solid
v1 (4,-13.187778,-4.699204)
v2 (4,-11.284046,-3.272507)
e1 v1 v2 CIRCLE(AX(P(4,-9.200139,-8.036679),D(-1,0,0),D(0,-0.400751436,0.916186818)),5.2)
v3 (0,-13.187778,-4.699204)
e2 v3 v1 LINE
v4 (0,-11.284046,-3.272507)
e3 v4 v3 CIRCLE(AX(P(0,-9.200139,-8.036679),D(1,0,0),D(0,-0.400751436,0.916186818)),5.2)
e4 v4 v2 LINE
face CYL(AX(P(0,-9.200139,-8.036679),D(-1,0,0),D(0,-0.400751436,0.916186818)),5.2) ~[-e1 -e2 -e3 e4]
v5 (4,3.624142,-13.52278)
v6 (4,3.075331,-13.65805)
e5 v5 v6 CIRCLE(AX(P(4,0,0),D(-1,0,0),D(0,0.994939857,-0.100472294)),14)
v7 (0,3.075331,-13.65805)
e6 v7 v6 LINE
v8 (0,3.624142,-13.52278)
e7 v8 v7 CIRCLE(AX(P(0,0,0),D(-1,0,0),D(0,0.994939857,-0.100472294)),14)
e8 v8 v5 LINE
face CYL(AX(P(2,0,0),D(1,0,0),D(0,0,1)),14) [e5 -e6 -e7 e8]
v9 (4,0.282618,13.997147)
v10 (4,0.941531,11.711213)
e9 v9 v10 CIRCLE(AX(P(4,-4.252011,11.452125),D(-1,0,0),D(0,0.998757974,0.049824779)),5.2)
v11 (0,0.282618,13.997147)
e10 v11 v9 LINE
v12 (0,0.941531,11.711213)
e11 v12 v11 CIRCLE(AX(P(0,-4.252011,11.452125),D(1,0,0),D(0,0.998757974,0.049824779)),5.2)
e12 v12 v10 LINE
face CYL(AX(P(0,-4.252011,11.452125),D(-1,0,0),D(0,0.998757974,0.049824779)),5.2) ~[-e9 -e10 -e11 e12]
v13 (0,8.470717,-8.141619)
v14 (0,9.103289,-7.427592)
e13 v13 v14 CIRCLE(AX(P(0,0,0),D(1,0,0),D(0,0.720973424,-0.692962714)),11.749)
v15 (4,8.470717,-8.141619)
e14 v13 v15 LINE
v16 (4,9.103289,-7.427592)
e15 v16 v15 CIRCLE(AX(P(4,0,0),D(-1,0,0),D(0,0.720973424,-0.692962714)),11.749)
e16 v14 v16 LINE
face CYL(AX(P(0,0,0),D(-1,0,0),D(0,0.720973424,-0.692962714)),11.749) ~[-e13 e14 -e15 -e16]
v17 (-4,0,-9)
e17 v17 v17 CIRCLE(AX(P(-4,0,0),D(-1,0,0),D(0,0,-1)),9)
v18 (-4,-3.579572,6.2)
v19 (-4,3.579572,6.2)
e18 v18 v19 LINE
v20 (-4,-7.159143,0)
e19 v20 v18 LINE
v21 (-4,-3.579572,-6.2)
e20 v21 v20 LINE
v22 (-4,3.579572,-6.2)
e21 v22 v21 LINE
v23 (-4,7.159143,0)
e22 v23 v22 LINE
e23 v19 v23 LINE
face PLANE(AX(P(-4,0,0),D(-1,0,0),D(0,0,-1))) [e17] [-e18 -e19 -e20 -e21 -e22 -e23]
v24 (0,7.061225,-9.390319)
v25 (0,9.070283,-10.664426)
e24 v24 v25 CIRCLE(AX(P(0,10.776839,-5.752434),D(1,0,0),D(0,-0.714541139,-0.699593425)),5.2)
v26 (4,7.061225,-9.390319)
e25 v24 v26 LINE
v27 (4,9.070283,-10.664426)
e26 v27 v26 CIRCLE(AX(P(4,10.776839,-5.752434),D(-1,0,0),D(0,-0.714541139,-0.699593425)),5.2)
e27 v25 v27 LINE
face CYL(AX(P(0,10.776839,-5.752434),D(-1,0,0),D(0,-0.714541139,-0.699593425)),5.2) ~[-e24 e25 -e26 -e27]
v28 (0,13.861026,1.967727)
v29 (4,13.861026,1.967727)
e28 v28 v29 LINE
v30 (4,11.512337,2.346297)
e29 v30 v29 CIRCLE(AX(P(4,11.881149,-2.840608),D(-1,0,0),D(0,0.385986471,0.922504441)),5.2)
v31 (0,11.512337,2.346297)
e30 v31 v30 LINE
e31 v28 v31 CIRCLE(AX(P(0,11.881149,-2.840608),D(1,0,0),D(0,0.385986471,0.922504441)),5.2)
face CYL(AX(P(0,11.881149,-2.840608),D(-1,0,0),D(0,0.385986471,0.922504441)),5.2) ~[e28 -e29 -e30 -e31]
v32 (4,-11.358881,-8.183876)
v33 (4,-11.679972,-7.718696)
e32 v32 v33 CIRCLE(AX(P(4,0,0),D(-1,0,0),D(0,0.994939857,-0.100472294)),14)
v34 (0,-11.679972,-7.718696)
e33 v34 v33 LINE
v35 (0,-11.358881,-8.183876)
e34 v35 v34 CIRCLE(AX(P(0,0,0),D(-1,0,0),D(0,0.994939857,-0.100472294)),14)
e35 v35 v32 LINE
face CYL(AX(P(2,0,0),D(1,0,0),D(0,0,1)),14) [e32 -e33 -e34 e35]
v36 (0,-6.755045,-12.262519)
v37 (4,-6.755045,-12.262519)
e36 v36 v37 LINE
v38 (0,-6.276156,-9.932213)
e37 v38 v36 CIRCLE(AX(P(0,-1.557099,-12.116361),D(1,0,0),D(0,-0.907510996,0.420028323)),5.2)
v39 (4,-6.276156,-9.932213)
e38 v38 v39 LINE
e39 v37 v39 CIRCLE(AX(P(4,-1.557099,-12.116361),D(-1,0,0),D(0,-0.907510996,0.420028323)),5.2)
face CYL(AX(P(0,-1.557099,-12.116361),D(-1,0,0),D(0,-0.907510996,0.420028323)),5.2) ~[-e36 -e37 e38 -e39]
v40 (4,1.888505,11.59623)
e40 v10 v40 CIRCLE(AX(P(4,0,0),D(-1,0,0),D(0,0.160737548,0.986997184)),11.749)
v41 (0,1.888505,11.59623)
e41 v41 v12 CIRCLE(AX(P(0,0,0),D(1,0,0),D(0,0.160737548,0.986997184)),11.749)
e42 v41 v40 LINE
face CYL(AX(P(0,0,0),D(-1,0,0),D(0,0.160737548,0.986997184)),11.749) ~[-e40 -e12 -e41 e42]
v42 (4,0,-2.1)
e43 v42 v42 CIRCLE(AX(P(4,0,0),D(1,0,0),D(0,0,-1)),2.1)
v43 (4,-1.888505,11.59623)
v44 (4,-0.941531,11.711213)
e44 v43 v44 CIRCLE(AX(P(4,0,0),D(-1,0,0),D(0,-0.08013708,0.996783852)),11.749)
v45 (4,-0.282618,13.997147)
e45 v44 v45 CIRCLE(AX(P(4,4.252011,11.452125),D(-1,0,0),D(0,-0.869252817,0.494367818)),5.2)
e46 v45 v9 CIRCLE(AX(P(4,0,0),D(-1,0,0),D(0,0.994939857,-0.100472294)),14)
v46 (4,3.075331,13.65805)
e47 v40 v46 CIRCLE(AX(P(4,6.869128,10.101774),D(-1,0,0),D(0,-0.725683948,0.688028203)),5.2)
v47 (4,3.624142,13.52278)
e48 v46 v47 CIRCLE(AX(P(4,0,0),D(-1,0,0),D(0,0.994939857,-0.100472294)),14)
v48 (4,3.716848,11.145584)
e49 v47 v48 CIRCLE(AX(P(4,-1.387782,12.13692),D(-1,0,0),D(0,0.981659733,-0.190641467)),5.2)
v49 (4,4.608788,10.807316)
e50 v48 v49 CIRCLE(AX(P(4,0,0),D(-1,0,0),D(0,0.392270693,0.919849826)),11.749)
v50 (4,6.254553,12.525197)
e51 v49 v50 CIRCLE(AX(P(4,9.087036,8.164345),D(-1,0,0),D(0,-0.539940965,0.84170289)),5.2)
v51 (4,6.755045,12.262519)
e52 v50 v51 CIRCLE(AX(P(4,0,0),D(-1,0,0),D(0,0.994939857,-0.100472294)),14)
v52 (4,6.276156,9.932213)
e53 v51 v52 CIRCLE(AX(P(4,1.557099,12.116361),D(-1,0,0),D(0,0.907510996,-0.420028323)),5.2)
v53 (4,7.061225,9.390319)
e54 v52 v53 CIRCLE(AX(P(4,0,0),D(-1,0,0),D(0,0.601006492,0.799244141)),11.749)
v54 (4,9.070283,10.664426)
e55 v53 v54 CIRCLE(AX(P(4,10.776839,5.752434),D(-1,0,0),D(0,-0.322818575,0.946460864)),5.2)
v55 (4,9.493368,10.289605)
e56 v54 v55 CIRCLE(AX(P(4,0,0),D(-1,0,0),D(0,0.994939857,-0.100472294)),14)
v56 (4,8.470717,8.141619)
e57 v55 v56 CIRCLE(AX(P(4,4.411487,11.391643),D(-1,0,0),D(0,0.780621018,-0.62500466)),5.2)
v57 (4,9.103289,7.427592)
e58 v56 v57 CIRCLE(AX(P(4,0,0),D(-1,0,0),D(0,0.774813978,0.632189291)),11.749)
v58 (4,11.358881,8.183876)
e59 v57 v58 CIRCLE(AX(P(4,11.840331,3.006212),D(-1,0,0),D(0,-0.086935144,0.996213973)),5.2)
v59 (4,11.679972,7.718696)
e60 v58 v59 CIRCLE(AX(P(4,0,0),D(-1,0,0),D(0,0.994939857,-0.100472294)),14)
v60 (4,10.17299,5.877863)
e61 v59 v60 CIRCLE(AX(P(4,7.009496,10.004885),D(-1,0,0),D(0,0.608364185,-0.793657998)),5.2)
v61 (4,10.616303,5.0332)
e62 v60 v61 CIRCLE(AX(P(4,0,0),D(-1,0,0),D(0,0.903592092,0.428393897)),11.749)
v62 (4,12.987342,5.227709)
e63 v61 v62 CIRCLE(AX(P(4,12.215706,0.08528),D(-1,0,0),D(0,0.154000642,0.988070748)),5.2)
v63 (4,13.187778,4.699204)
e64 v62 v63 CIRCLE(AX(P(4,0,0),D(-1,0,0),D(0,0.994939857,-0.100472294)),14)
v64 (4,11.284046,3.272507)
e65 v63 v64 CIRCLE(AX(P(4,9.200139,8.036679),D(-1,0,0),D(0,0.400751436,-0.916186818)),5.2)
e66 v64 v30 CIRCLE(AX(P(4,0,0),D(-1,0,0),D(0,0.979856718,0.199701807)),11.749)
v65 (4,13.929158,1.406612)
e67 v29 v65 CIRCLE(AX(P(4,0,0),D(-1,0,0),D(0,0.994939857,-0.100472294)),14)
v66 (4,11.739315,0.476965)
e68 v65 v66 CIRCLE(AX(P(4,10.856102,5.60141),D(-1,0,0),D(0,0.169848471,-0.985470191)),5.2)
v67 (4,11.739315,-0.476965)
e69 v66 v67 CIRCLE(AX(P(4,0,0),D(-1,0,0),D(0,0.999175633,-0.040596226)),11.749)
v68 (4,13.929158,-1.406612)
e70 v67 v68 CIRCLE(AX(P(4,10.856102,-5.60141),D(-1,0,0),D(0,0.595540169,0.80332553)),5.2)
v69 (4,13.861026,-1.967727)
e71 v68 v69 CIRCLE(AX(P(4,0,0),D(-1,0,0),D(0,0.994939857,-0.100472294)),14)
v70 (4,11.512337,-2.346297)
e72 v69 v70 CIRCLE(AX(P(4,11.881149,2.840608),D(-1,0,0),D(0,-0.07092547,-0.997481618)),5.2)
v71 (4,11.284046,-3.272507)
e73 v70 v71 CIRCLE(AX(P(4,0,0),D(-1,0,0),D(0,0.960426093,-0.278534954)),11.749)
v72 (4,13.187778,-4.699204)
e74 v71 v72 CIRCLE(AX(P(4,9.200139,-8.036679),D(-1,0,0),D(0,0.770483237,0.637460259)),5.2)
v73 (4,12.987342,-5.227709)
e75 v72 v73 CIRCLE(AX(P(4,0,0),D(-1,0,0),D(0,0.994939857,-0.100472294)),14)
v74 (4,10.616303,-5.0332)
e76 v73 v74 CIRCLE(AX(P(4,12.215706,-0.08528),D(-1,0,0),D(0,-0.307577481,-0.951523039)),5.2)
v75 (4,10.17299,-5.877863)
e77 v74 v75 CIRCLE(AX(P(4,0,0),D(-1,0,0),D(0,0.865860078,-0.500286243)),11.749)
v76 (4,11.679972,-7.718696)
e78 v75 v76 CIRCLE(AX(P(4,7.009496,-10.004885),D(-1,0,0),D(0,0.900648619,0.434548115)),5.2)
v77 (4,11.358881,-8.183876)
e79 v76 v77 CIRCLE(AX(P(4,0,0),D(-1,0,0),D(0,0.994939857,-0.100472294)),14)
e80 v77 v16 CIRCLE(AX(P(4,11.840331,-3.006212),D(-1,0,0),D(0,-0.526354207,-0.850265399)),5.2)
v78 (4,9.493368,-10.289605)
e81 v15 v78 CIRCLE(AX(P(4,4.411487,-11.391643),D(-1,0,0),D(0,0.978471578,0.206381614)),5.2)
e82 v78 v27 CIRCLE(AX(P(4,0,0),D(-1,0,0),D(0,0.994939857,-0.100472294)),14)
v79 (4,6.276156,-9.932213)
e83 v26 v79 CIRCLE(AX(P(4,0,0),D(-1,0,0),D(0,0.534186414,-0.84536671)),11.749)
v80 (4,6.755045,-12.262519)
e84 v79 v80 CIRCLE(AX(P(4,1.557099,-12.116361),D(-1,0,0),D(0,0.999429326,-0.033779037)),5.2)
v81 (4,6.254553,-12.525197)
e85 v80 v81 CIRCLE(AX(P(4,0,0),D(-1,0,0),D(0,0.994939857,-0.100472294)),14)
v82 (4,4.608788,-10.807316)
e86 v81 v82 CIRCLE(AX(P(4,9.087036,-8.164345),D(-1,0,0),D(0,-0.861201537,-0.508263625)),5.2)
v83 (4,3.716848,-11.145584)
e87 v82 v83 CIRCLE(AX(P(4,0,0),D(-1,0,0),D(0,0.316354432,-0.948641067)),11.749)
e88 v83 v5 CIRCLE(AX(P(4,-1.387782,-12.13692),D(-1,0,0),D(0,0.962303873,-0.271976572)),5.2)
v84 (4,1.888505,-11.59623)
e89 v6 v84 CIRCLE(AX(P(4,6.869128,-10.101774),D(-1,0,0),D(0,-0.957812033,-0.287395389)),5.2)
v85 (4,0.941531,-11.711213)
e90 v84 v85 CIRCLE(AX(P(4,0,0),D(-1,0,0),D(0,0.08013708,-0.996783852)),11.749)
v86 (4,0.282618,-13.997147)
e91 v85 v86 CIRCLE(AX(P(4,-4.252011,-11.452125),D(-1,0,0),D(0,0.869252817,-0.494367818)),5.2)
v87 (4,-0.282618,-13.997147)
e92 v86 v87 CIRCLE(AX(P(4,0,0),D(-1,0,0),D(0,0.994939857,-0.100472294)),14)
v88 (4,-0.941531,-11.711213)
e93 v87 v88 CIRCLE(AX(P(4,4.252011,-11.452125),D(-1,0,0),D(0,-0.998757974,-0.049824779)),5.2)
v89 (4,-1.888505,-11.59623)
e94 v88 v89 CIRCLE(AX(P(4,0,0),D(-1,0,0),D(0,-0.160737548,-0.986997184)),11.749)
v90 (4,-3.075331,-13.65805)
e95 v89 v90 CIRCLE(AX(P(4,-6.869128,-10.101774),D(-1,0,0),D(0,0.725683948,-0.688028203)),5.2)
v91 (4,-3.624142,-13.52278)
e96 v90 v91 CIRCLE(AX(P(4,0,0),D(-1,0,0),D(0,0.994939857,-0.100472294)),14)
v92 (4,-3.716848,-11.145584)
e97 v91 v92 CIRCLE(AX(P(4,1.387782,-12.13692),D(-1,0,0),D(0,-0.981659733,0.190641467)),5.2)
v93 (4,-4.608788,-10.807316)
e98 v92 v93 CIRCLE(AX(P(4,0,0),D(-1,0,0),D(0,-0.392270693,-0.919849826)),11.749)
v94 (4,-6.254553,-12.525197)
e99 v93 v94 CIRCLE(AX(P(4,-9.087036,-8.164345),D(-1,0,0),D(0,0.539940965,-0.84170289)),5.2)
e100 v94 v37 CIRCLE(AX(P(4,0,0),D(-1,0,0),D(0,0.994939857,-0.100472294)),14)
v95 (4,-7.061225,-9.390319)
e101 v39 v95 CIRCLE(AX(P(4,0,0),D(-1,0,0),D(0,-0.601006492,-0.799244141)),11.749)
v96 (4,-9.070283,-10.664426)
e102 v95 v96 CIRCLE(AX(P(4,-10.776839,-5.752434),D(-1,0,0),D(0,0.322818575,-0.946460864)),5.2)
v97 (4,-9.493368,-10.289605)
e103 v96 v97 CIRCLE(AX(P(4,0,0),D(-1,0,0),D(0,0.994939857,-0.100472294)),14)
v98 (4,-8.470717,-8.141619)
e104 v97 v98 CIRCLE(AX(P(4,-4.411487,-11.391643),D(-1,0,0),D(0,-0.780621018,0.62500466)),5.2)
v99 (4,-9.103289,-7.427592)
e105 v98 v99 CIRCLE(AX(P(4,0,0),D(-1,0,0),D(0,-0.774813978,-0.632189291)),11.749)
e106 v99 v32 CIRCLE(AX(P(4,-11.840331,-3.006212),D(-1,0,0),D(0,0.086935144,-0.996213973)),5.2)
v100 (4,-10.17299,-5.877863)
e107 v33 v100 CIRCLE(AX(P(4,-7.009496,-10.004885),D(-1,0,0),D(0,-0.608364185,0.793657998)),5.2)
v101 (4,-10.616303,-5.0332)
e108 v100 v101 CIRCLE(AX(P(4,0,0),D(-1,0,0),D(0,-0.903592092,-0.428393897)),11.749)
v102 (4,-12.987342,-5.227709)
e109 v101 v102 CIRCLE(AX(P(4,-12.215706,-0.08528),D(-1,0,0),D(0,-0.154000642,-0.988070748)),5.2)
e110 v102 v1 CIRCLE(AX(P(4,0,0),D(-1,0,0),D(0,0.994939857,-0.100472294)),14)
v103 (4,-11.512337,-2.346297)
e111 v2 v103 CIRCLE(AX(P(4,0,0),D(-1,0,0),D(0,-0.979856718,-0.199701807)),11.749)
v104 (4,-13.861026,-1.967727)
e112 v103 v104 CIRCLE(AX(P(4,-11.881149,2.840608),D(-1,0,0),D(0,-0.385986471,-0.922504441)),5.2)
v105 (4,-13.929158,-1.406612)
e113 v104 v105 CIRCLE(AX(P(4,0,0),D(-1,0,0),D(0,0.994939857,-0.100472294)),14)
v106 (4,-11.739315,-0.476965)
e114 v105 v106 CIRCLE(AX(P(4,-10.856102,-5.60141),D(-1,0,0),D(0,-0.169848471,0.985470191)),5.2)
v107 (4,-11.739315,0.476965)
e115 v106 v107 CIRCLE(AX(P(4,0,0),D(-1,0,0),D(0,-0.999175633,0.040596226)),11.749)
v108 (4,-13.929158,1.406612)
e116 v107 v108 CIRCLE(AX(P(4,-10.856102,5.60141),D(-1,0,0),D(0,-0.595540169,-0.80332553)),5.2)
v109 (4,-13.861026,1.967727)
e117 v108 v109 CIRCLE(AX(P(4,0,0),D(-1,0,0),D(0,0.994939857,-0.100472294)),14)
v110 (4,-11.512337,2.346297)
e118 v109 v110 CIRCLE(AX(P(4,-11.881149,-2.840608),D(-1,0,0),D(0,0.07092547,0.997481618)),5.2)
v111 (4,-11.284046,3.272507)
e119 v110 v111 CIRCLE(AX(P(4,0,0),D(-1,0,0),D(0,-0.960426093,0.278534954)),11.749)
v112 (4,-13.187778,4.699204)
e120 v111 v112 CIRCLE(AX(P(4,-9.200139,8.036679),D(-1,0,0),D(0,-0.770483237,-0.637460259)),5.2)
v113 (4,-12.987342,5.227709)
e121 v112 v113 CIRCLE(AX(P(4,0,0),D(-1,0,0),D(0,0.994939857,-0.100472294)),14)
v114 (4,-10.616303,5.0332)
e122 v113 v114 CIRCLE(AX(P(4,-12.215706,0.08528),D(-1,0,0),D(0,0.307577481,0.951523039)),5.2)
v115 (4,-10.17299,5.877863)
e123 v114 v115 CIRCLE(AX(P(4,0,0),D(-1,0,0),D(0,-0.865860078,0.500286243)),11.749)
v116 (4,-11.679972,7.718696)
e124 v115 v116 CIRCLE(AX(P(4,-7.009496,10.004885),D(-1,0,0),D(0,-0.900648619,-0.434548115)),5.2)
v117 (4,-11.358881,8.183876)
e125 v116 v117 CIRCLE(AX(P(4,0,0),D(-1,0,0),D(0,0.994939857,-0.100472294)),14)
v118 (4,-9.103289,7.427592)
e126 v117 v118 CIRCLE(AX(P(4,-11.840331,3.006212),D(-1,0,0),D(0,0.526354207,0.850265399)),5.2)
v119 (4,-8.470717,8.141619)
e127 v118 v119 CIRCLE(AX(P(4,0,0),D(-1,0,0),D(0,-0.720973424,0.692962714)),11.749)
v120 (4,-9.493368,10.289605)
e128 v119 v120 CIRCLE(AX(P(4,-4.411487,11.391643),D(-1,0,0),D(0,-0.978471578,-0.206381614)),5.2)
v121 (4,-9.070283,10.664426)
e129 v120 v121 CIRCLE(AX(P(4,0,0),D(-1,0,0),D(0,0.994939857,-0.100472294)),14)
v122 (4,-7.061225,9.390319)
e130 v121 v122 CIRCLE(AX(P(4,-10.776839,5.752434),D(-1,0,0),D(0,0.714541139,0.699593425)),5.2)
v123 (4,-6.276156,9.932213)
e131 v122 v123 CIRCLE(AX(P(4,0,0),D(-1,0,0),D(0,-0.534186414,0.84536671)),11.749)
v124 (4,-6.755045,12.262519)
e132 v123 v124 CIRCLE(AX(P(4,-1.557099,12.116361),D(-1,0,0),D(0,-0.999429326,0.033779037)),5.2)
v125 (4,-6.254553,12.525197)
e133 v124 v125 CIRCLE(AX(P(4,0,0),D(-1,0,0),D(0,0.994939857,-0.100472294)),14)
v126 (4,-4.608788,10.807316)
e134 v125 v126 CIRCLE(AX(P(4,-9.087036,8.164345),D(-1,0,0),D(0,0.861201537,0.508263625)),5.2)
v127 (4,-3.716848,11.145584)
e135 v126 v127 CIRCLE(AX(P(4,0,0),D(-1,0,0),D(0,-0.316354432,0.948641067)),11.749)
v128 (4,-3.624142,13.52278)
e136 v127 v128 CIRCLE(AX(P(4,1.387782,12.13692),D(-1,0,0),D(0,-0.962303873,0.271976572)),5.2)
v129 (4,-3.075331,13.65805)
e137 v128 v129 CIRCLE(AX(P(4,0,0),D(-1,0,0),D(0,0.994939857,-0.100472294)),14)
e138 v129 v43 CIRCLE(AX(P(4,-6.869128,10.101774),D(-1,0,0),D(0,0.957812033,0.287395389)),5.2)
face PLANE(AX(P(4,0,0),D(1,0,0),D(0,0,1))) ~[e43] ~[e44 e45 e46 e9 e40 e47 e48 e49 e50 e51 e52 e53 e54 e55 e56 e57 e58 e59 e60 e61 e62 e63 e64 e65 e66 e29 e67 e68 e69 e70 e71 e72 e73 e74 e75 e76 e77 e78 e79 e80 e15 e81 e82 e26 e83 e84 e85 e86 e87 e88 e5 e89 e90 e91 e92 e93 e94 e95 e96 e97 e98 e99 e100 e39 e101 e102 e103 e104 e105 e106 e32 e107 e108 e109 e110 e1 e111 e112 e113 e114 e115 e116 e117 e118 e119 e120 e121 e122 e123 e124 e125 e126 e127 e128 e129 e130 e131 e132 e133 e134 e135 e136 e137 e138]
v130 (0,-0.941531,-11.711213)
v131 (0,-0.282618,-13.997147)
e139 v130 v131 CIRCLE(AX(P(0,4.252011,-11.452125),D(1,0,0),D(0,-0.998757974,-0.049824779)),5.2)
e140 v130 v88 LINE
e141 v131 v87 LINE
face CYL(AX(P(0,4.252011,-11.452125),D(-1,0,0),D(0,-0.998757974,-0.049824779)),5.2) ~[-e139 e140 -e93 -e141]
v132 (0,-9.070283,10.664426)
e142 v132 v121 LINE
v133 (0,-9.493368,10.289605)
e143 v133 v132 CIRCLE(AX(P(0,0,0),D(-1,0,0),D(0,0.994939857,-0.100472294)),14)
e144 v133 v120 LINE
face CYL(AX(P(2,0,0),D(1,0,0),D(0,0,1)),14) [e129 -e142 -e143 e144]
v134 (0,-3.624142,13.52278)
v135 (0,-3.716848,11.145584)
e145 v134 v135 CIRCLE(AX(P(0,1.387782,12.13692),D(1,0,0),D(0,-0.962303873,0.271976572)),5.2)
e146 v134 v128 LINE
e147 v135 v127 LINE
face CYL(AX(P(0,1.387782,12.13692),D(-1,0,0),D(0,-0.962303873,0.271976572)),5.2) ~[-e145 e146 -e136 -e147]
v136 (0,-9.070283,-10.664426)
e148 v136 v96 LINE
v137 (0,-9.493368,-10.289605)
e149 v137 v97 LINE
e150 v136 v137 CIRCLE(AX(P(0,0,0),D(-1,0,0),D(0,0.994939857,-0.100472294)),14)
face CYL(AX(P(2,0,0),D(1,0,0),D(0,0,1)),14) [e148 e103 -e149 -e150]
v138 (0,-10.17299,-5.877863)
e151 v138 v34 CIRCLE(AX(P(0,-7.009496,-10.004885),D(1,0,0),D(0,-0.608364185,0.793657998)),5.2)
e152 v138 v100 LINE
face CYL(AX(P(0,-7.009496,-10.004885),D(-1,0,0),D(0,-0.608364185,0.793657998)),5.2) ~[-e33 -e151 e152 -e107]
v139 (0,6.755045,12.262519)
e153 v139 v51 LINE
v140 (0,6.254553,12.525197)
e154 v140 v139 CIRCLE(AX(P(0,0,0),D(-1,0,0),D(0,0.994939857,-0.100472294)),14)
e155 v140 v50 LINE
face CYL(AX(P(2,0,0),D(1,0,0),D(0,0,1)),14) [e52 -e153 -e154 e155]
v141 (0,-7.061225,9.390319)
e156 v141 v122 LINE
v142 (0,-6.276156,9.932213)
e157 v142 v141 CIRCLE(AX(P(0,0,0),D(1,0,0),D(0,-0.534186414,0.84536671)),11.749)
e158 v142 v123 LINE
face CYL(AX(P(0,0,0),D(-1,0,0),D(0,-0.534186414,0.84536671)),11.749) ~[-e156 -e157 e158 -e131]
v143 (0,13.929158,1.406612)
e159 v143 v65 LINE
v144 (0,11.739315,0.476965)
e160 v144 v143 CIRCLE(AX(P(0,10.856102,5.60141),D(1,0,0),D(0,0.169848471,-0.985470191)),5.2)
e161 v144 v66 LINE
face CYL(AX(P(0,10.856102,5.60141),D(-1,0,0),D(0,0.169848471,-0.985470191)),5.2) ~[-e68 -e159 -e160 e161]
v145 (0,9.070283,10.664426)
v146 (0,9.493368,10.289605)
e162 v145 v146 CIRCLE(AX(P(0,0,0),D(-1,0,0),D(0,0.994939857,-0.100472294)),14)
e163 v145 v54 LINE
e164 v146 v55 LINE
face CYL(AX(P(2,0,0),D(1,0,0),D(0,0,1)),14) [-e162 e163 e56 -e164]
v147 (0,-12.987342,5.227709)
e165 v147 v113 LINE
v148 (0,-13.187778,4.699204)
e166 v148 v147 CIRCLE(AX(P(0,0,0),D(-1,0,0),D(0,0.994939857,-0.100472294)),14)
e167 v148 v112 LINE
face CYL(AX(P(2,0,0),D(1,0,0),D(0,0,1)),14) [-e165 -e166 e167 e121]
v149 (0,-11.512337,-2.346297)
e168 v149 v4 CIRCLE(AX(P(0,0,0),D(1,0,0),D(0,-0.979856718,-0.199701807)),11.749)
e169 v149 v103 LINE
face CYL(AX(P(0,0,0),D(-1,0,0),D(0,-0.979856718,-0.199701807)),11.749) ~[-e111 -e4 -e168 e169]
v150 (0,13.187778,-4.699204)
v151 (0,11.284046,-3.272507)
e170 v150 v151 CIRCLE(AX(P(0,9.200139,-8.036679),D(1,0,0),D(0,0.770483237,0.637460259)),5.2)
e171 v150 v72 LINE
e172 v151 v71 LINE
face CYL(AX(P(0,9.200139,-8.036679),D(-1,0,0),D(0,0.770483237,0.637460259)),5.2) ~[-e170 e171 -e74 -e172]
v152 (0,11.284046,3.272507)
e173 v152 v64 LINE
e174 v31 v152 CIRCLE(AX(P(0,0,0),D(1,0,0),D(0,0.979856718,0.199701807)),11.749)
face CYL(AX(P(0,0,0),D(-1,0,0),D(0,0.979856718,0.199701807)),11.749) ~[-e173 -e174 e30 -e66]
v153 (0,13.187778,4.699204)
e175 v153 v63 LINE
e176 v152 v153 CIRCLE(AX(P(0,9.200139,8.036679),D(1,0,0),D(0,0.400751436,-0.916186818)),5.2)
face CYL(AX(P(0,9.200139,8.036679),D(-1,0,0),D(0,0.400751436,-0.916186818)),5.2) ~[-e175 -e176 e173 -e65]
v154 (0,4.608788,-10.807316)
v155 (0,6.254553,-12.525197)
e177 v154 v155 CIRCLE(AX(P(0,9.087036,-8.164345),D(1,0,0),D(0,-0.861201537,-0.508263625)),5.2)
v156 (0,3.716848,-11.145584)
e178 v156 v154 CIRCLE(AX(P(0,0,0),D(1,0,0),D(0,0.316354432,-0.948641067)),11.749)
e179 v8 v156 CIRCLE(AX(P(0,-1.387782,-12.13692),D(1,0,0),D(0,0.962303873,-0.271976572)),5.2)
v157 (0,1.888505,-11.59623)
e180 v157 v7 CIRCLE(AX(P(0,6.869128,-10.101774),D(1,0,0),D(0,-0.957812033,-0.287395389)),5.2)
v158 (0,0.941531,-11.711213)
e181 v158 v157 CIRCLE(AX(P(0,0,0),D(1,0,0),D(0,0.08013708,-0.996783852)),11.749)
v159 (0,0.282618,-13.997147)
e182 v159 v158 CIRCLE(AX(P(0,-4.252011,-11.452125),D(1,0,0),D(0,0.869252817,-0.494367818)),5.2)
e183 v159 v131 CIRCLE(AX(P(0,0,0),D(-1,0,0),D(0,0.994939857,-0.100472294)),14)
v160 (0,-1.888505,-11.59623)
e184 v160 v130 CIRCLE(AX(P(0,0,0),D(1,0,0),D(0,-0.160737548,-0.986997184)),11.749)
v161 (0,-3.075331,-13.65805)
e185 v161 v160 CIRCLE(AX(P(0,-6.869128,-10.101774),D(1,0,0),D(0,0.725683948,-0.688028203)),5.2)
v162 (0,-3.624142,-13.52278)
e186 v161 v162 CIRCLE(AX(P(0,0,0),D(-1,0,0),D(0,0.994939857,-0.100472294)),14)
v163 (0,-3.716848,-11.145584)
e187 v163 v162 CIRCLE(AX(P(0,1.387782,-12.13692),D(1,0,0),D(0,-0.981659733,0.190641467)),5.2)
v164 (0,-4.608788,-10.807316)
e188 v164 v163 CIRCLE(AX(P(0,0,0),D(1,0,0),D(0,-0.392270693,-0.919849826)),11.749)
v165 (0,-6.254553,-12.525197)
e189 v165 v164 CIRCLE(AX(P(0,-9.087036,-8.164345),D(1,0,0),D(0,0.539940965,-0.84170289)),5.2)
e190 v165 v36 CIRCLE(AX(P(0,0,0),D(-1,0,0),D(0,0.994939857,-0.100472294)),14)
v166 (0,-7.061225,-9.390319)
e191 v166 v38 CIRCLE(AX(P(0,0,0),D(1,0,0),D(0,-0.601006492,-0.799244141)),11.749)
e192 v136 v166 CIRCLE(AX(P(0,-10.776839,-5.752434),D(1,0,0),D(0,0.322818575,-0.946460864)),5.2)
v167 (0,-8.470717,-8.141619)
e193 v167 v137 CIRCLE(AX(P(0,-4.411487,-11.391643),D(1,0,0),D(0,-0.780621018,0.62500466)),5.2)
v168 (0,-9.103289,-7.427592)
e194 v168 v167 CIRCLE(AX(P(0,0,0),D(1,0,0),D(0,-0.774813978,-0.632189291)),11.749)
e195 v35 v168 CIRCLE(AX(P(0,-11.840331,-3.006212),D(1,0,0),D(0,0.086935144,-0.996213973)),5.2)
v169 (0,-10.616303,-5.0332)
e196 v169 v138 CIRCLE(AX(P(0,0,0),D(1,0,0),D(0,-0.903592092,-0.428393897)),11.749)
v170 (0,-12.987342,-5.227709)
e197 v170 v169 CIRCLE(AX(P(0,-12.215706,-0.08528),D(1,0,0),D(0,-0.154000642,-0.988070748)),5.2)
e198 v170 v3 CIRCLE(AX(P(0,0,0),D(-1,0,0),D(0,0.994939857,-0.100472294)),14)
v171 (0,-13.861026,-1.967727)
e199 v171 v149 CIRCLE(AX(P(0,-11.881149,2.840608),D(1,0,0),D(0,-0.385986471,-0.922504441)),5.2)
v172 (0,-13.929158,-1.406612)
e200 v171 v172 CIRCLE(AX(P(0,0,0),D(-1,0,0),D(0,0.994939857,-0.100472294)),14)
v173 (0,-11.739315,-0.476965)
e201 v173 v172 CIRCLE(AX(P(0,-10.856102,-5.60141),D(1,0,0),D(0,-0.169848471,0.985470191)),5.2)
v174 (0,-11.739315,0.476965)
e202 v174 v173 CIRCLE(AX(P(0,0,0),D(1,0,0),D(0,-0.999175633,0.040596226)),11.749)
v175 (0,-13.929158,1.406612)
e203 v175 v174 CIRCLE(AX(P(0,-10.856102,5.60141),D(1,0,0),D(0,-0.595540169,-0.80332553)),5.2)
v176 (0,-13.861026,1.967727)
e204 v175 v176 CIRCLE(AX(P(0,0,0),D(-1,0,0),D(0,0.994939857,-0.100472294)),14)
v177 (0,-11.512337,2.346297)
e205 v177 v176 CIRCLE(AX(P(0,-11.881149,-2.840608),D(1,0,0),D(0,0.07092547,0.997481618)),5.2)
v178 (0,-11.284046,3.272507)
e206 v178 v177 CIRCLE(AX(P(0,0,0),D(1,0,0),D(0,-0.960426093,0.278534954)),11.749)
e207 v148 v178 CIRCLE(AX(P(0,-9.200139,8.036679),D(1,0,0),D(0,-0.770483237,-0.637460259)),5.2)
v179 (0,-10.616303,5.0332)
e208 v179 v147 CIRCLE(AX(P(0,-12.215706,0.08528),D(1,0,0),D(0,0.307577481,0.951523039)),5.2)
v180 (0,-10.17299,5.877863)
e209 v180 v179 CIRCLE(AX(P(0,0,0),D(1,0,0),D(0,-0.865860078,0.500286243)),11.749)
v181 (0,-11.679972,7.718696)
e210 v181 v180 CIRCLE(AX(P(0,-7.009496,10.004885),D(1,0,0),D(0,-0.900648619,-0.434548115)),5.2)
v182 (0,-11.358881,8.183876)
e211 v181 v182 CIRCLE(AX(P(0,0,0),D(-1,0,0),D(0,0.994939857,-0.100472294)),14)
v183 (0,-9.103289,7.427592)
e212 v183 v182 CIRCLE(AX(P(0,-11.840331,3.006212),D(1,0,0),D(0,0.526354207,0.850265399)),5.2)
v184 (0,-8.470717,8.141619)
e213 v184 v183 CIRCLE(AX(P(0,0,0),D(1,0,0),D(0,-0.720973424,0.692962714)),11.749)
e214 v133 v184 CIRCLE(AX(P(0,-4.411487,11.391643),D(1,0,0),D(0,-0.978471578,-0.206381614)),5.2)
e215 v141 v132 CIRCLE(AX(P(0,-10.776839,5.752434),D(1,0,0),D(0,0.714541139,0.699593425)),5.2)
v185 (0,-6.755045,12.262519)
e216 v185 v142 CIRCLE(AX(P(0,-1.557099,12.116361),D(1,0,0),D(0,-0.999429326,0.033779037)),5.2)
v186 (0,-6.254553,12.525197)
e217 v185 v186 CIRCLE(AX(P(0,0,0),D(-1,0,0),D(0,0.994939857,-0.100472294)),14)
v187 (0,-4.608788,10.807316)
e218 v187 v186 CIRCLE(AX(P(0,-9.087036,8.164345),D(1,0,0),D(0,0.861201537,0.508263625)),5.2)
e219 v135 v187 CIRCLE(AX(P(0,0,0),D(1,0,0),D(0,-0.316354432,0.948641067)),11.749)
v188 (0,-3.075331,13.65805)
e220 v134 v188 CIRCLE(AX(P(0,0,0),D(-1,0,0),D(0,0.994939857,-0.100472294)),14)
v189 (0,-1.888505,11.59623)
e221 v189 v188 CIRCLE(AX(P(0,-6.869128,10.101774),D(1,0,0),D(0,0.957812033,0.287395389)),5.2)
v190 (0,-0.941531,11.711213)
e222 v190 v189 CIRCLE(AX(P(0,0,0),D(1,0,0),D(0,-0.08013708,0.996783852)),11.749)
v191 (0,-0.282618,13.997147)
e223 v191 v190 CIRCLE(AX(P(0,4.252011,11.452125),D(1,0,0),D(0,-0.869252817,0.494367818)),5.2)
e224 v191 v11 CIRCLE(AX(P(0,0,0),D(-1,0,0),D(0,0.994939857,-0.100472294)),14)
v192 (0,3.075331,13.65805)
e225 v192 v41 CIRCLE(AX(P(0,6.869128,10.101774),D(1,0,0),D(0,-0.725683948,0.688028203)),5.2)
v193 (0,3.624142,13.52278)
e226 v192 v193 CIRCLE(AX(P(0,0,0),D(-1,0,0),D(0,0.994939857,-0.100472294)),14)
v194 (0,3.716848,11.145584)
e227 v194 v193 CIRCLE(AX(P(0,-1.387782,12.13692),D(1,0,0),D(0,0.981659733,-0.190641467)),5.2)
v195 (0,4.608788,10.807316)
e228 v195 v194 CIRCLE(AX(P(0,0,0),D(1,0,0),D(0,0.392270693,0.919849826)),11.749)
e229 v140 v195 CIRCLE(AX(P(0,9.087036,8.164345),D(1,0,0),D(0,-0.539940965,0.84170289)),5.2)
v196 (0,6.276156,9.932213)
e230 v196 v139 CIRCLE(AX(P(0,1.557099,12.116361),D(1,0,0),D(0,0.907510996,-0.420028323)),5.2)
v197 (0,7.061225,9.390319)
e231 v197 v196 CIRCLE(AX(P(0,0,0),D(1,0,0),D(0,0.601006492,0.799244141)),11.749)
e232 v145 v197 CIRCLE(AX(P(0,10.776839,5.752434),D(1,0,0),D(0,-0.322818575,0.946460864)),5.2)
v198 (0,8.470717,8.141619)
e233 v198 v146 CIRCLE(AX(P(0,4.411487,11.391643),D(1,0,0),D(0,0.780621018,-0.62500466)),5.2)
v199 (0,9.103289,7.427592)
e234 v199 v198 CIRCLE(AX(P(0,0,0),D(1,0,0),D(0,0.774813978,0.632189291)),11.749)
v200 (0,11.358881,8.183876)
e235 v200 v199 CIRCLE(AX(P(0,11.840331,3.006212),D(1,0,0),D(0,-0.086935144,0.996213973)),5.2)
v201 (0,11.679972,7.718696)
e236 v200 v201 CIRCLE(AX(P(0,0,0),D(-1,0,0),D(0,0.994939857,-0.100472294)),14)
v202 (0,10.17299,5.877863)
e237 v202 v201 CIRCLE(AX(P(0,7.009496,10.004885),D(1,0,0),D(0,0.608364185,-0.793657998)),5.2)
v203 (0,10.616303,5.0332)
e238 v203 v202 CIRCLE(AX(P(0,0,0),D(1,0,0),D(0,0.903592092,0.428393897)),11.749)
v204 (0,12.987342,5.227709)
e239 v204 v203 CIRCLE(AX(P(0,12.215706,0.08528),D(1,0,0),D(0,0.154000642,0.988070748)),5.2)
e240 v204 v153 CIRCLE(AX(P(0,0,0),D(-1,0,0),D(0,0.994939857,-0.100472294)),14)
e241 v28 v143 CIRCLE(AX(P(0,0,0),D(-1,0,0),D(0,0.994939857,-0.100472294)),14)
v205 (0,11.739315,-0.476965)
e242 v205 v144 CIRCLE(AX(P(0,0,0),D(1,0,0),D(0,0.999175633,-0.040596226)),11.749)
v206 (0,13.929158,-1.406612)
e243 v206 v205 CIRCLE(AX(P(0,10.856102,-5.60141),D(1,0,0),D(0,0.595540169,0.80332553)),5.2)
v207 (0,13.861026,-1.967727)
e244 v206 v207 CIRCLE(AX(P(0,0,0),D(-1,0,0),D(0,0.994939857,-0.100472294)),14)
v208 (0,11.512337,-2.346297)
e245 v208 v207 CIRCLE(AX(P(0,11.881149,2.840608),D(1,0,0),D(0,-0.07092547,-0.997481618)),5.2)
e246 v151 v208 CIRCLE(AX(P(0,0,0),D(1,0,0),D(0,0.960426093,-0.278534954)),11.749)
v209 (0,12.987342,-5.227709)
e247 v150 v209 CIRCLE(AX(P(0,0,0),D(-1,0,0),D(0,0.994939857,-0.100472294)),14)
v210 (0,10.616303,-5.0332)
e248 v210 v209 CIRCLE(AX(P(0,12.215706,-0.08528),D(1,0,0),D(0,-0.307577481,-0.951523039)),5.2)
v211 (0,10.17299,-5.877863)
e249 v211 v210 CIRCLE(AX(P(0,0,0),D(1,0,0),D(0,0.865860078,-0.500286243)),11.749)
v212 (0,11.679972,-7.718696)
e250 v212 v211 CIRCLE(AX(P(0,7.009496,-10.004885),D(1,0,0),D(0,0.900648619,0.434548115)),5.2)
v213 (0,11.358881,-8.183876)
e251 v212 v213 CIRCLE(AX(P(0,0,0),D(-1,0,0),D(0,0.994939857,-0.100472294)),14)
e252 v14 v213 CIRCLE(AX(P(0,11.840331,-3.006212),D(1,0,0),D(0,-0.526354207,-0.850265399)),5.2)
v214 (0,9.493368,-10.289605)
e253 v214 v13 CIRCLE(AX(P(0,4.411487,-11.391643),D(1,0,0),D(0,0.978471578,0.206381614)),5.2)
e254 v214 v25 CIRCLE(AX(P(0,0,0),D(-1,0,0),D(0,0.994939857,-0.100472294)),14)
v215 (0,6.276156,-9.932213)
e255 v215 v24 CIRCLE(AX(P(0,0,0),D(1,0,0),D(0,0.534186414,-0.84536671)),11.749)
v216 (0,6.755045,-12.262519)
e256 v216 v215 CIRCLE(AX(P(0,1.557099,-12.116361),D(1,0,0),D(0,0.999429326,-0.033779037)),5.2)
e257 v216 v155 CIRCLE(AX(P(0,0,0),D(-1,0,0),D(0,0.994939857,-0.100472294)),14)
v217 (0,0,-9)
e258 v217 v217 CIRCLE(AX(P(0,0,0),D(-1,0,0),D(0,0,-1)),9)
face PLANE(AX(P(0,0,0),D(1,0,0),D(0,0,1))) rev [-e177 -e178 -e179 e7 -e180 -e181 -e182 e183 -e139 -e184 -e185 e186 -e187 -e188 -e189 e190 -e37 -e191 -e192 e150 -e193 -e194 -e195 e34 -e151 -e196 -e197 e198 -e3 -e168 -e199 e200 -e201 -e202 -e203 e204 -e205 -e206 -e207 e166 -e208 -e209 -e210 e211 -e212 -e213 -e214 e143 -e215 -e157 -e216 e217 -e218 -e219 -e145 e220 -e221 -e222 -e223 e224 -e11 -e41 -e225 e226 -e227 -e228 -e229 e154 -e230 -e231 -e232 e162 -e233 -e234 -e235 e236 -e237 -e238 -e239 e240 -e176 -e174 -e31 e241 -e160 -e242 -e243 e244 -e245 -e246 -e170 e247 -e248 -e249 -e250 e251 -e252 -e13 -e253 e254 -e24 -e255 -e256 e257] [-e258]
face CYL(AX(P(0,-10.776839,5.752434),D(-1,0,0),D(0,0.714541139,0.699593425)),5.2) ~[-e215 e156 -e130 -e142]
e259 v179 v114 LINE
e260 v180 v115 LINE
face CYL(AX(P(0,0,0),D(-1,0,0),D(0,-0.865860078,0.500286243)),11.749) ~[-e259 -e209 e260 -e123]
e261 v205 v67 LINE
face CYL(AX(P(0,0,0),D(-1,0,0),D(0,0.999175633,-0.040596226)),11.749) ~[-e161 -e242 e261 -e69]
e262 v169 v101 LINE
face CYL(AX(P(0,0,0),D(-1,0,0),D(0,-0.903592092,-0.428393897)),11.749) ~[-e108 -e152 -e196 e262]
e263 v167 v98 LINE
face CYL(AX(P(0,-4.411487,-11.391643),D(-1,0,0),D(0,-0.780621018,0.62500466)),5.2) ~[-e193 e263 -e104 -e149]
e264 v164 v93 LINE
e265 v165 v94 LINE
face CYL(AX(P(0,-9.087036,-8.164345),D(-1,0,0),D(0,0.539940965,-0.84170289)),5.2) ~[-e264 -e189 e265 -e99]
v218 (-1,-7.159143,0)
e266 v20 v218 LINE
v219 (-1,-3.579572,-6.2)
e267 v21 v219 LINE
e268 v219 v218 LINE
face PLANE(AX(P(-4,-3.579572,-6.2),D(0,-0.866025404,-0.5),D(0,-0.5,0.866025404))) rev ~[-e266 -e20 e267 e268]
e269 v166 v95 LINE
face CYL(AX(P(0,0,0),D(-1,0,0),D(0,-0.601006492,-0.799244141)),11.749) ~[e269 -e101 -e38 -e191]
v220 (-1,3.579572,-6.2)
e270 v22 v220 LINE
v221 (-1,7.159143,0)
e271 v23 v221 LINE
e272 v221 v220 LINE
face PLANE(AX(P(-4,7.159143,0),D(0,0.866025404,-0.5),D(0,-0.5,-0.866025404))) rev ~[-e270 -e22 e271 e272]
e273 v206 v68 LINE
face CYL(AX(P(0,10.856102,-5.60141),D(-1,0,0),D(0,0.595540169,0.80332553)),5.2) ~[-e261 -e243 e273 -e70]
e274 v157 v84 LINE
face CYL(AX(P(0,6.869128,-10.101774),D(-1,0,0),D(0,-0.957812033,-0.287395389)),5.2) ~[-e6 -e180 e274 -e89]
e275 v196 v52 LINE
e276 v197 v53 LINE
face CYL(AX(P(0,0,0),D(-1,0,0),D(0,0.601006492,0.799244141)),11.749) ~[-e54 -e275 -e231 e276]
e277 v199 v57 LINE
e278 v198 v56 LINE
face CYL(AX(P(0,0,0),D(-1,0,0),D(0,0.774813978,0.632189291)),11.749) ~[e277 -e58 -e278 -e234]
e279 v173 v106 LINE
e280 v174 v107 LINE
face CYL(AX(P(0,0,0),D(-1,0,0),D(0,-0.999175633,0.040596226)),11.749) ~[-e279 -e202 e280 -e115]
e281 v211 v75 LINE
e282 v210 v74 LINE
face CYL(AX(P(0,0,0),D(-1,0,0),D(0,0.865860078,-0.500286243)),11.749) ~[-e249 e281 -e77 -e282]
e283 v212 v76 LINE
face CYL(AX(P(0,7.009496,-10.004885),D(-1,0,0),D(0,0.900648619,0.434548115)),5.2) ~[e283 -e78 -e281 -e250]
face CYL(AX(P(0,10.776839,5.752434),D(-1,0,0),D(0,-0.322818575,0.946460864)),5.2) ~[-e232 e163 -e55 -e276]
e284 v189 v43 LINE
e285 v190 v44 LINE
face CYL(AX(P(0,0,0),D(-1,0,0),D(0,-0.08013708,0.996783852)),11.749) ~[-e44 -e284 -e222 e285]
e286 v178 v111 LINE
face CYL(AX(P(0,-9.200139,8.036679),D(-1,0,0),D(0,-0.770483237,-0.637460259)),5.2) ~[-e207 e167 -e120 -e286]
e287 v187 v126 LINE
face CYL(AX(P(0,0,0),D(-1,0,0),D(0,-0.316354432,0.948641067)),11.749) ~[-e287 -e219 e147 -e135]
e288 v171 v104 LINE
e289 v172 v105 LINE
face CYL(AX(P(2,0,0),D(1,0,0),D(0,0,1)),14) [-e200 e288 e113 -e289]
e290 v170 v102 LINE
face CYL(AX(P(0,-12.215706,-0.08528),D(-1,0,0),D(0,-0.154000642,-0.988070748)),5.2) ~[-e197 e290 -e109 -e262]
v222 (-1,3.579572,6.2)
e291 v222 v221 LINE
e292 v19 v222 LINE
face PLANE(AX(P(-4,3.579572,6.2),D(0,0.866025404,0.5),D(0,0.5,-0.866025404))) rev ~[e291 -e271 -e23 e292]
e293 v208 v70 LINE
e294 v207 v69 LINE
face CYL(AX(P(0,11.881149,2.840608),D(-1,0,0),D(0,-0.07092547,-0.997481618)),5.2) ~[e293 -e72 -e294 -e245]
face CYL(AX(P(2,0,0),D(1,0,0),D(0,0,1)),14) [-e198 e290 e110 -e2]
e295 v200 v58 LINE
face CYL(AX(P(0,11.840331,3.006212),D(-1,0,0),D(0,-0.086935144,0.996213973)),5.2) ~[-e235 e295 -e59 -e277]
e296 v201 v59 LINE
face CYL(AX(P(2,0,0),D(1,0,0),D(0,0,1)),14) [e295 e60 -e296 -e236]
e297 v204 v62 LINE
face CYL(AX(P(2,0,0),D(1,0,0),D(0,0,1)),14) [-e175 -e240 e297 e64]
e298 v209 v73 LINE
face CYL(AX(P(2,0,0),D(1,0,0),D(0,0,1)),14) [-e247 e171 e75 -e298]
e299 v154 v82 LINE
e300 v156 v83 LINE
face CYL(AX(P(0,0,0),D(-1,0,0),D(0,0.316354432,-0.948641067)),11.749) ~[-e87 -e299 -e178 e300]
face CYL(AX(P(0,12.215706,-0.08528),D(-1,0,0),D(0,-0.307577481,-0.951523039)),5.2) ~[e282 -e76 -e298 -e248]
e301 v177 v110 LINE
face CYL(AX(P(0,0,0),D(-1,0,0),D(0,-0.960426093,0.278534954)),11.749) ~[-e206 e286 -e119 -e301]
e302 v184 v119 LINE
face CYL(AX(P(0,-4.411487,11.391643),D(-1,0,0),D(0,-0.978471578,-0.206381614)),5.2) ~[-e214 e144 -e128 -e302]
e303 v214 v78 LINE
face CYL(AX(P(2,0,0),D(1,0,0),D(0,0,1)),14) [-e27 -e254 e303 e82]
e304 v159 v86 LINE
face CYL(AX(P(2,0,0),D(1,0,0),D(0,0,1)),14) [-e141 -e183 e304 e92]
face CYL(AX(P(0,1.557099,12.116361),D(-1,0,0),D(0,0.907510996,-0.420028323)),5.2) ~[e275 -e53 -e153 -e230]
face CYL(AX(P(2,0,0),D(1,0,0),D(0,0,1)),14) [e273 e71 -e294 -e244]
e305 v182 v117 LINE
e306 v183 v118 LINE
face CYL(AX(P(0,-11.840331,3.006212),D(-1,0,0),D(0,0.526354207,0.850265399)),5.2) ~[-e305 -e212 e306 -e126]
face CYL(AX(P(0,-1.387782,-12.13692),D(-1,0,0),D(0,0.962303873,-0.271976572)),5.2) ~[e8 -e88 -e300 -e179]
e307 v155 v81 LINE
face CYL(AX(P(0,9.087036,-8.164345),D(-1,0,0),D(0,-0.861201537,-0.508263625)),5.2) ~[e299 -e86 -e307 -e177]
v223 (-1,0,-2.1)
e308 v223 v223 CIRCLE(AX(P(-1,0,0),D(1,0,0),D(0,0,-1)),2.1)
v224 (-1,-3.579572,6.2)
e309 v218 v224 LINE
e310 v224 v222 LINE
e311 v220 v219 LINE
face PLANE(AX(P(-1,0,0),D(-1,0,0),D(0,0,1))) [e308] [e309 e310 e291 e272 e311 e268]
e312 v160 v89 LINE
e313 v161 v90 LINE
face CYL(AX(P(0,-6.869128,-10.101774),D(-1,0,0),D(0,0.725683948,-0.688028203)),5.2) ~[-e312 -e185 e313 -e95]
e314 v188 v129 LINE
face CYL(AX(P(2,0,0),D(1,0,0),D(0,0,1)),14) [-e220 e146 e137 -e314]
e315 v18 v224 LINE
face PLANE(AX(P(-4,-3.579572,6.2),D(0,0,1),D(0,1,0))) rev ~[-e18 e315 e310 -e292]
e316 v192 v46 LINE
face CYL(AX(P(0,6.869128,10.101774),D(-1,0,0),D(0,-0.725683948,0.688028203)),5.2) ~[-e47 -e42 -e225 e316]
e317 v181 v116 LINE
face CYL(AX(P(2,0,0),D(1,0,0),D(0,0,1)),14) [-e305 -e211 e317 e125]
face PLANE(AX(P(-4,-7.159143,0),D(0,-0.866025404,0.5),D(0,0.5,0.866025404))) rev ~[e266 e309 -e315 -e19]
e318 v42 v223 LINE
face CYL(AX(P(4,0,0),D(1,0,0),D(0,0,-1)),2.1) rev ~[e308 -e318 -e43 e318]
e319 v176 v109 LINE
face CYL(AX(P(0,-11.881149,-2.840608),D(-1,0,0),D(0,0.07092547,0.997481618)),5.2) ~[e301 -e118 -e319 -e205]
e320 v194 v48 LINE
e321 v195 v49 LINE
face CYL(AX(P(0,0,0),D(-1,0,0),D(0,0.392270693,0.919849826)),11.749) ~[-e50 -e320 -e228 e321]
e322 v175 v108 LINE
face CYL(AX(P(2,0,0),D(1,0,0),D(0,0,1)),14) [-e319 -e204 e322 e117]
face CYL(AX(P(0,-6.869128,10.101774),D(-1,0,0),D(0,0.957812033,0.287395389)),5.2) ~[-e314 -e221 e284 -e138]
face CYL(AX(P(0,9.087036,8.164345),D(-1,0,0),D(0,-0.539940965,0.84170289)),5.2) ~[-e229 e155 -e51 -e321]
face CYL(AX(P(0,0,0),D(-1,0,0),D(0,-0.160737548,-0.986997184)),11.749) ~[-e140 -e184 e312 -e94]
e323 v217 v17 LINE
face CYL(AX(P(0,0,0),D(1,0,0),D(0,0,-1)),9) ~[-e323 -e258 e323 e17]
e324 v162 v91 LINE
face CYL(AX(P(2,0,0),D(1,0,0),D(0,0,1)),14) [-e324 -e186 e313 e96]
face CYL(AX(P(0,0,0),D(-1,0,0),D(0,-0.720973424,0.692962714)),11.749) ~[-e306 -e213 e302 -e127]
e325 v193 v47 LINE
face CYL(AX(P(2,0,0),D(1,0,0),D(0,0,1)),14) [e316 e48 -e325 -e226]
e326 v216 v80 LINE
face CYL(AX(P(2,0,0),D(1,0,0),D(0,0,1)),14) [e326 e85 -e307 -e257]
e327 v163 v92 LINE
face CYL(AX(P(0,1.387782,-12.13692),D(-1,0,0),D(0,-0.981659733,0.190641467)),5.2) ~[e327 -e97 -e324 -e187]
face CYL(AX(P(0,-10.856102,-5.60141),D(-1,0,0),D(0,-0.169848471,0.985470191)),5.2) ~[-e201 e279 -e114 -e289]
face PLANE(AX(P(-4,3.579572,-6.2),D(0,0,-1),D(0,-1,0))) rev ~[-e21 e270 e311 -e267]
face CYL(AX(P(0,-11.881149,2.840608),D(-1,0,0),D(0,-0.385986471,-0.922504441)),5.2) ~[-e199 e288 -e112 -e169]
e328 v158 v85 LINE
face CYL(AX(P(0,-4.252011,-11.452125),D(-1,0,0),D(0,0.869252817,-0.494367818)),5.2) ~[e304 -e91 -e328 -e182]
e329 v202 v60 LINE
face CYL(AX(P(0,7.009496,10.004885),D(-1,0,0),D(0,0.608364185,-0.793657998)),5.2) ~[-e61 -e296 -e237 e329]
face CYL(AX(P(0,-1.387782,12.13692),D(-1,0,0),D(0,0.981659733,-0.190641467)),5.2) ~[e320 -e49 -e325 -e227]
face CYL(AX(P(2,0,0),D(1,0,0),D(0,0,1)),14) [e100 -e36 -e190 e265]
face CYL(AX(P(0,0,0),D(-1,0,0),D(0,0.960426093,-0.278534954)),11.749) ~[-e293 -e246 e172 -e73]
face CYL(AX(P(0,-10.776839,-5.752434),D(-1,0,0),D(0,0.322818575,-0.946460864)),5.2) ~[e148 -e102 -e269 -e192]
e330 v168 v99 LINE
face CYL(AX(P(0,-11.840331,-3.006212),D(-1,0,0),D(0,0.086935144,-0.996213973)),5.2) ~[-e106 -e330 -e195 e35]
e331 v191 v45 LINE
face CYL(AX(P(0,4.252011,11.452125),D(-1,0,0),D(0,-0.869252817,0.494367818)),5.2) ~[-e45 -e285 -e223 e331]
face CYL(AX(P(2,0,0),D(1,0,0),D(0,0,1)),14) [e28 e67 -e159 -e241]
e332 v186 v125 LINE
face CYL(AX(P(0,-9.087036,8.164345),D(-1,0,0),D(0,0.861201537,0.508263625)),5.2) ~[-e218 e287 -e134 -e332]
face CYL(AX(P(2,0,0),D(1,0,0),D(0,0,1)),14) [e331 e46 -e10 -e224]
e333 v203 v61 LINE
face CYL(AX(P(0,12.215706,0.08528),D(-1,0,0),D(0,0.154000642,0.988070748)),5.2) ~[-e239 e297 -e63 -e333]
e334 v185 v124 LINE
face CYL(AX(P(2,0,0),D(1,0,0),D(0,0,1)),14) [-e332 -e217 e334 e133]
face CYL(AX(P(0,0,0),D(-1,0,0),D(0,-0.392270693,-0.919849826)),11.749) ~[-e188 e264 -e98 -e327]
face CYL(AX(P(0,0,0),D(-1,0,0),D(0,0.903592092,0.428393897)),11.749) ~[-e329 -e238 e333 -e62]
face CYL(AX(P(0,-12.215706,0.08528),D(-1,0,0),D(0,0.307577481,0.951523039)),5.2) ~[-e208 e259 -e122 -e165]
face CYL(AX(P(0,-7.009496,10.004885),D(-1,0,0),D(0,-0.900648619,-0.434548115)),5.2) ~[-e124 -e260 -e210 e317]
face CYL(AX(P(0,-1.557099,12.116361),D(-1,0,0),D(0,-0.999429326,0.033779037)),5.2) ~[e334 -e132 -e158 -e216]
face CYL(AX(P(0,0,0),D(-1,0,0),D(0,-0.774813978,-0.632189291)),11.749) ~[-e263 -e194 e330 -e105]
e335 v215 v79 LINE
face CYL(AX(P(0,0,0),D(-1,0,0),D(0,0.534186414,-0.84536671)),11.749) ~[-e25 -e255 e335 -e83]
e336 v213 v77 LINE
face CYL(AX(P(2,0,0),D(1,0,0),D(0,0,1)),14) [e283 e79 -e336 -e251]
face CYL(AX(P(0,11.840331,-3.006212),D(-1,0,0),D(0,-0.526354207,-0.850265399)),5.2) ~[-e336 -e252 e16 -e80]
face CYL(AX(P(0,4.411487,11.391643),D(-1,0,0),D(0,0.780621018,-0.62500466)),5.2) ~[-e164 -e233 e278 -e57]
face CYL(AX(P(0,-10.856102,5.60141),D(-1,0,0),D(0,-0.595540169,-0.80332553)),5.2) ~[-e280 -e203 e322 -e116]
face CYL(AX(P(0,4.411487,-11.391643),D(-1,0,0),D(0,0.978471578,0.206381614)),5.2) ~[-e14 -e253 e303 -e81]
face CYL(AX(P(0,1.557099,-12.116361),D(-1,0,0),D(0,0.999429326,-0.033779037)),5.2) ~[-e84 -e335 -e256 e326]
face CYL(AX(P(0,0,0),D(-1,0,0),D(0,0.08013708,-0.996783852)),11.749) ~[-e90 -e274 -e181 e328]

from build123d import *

# Parameters (mm, degrees)
BASPROSKE_W         = 4
BASPROSKE_H         = 14
TOOTHCUT_DEPTH      = 21.199009877
TEETHCUTS_COUNT     = 26
TEETHCUTS_ANGLE     = 346.153846154
BORSKE_R            = 2
BORE_DEPTH          = 50.0000508
SKETCH_1_R          = 9
SKETCH_1_R_2        = 2
EXTRUDE_1_DEPTH     = 4
CUT_EXTRUDE_1_DEPTH = 3
SKETCH_4_R          = 2.1
CUT_EXTRUDE_2_DEPTH = 22.307778916


with BuildPart() as part:
    # BasProSke → Base-Revolve (revolve)
    with BuildSketch(Plane(origin=(0, 0, 0), x_dir=(1, 0, 0), z_dir=(0, 1, 0)), mode=Mode.PRIVATE) as base_revolve_sk:
        with Locations((2, 7)):
            Rectangle(BASPROSKE_W, BASPROSKE_H)
    revolve(base_revolve_sk.sketch.rotate(Axis((-10, 0, 0), (1, 0, 0)), 180), axis=Axis((-10, 0, 0), (1, 0, 0)))

    # TooCutSke → ToothCut (cut, through all)
    with BuildSketch(Plane(origin=(0, 0, 0), x_dir=(0, 0, -1), z_dir=(1, 0, 0))):
        with BuildLine():
            ThreePointArc((0.476965065, 11.739314517), (0, 11.749), (-0.476965065, 11.739314517))
            ThreePointArc((-0.476965065, 11.739314517), (-0.82065865, 12.901686978), (-1.424117301, 13.952911348))
            ThreePointArc((-1.424117301, 13.952911348), (0, 14.0254), (1.424117301, 13.952911348))
            ThreePointArc((1.424117301, 13.952911348), (0.82065865, 12.901686978), (0.476965065, 11.739314517))
        make_face()
    toothcut = extrude(amount=TOOTHCUT_DEPTH, mode=Mode.SUBTRACT)

    # TeethCuts: ToothCut ×26 about axis
    teethcuts_axis = Axis((-10, 0, 0), (1, 0, 0))
    for i in range(1, TEETHCUTS_COUNT):
        add(toothcut.rotate(teethcuts_axis, i * TEETHCUTS_ANGLE / (TEETHCUTS_COUNT - 1)), mode=Mode.SUBTRACT)

    # BorSke → Bore (cut, symmetric)
    with BuildSketch(Plane(origin=(0, 0, 0), x_dir=(0, 0, -1), z_dir=(1, 0, 0))):
        with Locations(Location((0, 0, 0), (0, 0, 180))):
            Circle(BORSKE_R)
    extrude(amount=BORE_DEPTH, both=True, mode=Mode.SUBTRACT)

    # 草图1 → 凸台-拉伸1 (add)
    with BuildSketch(Plane.ZY):
        with Locations(Location((0, 0, 0), (0, 0, 180))):
            Circle(SKETCH_1_R)
        Circle(SKETCH_1_R_2, mode=Mode.SUBTRACT)
    extrude(amount=EXTRUDE_1_DEPTH)

    # 草图2 → 切除-拉伸1 (cut)
    with BuildSketch(Plane.ZY.offset(4)):
        Polygon((6.2, 3.579571669), (0, 7.159143338), (-6.2, 3.579571669), (-6.2, -3.579571669), (0, -7.159143338), (6.2, -3.579571669), align=None)
    extrude(amount=-CUT_EXTRUDE_1_DEPTH, mode=Mode.SUBTRACT)

    # 草图4 → 切除-拉伸2 (cut, through all)
    with BuildSketch(Plane(origin=(4, 0, 0), x_dir=(0, 0, -1), z_dir=(1, 0, 0))):
        Circle(SKETCH_4_R)
    extrude(amount=-CUT_EXTRUDE_2_DEPTH, mode=Mode.SUBTRACT)


solid = part.part
